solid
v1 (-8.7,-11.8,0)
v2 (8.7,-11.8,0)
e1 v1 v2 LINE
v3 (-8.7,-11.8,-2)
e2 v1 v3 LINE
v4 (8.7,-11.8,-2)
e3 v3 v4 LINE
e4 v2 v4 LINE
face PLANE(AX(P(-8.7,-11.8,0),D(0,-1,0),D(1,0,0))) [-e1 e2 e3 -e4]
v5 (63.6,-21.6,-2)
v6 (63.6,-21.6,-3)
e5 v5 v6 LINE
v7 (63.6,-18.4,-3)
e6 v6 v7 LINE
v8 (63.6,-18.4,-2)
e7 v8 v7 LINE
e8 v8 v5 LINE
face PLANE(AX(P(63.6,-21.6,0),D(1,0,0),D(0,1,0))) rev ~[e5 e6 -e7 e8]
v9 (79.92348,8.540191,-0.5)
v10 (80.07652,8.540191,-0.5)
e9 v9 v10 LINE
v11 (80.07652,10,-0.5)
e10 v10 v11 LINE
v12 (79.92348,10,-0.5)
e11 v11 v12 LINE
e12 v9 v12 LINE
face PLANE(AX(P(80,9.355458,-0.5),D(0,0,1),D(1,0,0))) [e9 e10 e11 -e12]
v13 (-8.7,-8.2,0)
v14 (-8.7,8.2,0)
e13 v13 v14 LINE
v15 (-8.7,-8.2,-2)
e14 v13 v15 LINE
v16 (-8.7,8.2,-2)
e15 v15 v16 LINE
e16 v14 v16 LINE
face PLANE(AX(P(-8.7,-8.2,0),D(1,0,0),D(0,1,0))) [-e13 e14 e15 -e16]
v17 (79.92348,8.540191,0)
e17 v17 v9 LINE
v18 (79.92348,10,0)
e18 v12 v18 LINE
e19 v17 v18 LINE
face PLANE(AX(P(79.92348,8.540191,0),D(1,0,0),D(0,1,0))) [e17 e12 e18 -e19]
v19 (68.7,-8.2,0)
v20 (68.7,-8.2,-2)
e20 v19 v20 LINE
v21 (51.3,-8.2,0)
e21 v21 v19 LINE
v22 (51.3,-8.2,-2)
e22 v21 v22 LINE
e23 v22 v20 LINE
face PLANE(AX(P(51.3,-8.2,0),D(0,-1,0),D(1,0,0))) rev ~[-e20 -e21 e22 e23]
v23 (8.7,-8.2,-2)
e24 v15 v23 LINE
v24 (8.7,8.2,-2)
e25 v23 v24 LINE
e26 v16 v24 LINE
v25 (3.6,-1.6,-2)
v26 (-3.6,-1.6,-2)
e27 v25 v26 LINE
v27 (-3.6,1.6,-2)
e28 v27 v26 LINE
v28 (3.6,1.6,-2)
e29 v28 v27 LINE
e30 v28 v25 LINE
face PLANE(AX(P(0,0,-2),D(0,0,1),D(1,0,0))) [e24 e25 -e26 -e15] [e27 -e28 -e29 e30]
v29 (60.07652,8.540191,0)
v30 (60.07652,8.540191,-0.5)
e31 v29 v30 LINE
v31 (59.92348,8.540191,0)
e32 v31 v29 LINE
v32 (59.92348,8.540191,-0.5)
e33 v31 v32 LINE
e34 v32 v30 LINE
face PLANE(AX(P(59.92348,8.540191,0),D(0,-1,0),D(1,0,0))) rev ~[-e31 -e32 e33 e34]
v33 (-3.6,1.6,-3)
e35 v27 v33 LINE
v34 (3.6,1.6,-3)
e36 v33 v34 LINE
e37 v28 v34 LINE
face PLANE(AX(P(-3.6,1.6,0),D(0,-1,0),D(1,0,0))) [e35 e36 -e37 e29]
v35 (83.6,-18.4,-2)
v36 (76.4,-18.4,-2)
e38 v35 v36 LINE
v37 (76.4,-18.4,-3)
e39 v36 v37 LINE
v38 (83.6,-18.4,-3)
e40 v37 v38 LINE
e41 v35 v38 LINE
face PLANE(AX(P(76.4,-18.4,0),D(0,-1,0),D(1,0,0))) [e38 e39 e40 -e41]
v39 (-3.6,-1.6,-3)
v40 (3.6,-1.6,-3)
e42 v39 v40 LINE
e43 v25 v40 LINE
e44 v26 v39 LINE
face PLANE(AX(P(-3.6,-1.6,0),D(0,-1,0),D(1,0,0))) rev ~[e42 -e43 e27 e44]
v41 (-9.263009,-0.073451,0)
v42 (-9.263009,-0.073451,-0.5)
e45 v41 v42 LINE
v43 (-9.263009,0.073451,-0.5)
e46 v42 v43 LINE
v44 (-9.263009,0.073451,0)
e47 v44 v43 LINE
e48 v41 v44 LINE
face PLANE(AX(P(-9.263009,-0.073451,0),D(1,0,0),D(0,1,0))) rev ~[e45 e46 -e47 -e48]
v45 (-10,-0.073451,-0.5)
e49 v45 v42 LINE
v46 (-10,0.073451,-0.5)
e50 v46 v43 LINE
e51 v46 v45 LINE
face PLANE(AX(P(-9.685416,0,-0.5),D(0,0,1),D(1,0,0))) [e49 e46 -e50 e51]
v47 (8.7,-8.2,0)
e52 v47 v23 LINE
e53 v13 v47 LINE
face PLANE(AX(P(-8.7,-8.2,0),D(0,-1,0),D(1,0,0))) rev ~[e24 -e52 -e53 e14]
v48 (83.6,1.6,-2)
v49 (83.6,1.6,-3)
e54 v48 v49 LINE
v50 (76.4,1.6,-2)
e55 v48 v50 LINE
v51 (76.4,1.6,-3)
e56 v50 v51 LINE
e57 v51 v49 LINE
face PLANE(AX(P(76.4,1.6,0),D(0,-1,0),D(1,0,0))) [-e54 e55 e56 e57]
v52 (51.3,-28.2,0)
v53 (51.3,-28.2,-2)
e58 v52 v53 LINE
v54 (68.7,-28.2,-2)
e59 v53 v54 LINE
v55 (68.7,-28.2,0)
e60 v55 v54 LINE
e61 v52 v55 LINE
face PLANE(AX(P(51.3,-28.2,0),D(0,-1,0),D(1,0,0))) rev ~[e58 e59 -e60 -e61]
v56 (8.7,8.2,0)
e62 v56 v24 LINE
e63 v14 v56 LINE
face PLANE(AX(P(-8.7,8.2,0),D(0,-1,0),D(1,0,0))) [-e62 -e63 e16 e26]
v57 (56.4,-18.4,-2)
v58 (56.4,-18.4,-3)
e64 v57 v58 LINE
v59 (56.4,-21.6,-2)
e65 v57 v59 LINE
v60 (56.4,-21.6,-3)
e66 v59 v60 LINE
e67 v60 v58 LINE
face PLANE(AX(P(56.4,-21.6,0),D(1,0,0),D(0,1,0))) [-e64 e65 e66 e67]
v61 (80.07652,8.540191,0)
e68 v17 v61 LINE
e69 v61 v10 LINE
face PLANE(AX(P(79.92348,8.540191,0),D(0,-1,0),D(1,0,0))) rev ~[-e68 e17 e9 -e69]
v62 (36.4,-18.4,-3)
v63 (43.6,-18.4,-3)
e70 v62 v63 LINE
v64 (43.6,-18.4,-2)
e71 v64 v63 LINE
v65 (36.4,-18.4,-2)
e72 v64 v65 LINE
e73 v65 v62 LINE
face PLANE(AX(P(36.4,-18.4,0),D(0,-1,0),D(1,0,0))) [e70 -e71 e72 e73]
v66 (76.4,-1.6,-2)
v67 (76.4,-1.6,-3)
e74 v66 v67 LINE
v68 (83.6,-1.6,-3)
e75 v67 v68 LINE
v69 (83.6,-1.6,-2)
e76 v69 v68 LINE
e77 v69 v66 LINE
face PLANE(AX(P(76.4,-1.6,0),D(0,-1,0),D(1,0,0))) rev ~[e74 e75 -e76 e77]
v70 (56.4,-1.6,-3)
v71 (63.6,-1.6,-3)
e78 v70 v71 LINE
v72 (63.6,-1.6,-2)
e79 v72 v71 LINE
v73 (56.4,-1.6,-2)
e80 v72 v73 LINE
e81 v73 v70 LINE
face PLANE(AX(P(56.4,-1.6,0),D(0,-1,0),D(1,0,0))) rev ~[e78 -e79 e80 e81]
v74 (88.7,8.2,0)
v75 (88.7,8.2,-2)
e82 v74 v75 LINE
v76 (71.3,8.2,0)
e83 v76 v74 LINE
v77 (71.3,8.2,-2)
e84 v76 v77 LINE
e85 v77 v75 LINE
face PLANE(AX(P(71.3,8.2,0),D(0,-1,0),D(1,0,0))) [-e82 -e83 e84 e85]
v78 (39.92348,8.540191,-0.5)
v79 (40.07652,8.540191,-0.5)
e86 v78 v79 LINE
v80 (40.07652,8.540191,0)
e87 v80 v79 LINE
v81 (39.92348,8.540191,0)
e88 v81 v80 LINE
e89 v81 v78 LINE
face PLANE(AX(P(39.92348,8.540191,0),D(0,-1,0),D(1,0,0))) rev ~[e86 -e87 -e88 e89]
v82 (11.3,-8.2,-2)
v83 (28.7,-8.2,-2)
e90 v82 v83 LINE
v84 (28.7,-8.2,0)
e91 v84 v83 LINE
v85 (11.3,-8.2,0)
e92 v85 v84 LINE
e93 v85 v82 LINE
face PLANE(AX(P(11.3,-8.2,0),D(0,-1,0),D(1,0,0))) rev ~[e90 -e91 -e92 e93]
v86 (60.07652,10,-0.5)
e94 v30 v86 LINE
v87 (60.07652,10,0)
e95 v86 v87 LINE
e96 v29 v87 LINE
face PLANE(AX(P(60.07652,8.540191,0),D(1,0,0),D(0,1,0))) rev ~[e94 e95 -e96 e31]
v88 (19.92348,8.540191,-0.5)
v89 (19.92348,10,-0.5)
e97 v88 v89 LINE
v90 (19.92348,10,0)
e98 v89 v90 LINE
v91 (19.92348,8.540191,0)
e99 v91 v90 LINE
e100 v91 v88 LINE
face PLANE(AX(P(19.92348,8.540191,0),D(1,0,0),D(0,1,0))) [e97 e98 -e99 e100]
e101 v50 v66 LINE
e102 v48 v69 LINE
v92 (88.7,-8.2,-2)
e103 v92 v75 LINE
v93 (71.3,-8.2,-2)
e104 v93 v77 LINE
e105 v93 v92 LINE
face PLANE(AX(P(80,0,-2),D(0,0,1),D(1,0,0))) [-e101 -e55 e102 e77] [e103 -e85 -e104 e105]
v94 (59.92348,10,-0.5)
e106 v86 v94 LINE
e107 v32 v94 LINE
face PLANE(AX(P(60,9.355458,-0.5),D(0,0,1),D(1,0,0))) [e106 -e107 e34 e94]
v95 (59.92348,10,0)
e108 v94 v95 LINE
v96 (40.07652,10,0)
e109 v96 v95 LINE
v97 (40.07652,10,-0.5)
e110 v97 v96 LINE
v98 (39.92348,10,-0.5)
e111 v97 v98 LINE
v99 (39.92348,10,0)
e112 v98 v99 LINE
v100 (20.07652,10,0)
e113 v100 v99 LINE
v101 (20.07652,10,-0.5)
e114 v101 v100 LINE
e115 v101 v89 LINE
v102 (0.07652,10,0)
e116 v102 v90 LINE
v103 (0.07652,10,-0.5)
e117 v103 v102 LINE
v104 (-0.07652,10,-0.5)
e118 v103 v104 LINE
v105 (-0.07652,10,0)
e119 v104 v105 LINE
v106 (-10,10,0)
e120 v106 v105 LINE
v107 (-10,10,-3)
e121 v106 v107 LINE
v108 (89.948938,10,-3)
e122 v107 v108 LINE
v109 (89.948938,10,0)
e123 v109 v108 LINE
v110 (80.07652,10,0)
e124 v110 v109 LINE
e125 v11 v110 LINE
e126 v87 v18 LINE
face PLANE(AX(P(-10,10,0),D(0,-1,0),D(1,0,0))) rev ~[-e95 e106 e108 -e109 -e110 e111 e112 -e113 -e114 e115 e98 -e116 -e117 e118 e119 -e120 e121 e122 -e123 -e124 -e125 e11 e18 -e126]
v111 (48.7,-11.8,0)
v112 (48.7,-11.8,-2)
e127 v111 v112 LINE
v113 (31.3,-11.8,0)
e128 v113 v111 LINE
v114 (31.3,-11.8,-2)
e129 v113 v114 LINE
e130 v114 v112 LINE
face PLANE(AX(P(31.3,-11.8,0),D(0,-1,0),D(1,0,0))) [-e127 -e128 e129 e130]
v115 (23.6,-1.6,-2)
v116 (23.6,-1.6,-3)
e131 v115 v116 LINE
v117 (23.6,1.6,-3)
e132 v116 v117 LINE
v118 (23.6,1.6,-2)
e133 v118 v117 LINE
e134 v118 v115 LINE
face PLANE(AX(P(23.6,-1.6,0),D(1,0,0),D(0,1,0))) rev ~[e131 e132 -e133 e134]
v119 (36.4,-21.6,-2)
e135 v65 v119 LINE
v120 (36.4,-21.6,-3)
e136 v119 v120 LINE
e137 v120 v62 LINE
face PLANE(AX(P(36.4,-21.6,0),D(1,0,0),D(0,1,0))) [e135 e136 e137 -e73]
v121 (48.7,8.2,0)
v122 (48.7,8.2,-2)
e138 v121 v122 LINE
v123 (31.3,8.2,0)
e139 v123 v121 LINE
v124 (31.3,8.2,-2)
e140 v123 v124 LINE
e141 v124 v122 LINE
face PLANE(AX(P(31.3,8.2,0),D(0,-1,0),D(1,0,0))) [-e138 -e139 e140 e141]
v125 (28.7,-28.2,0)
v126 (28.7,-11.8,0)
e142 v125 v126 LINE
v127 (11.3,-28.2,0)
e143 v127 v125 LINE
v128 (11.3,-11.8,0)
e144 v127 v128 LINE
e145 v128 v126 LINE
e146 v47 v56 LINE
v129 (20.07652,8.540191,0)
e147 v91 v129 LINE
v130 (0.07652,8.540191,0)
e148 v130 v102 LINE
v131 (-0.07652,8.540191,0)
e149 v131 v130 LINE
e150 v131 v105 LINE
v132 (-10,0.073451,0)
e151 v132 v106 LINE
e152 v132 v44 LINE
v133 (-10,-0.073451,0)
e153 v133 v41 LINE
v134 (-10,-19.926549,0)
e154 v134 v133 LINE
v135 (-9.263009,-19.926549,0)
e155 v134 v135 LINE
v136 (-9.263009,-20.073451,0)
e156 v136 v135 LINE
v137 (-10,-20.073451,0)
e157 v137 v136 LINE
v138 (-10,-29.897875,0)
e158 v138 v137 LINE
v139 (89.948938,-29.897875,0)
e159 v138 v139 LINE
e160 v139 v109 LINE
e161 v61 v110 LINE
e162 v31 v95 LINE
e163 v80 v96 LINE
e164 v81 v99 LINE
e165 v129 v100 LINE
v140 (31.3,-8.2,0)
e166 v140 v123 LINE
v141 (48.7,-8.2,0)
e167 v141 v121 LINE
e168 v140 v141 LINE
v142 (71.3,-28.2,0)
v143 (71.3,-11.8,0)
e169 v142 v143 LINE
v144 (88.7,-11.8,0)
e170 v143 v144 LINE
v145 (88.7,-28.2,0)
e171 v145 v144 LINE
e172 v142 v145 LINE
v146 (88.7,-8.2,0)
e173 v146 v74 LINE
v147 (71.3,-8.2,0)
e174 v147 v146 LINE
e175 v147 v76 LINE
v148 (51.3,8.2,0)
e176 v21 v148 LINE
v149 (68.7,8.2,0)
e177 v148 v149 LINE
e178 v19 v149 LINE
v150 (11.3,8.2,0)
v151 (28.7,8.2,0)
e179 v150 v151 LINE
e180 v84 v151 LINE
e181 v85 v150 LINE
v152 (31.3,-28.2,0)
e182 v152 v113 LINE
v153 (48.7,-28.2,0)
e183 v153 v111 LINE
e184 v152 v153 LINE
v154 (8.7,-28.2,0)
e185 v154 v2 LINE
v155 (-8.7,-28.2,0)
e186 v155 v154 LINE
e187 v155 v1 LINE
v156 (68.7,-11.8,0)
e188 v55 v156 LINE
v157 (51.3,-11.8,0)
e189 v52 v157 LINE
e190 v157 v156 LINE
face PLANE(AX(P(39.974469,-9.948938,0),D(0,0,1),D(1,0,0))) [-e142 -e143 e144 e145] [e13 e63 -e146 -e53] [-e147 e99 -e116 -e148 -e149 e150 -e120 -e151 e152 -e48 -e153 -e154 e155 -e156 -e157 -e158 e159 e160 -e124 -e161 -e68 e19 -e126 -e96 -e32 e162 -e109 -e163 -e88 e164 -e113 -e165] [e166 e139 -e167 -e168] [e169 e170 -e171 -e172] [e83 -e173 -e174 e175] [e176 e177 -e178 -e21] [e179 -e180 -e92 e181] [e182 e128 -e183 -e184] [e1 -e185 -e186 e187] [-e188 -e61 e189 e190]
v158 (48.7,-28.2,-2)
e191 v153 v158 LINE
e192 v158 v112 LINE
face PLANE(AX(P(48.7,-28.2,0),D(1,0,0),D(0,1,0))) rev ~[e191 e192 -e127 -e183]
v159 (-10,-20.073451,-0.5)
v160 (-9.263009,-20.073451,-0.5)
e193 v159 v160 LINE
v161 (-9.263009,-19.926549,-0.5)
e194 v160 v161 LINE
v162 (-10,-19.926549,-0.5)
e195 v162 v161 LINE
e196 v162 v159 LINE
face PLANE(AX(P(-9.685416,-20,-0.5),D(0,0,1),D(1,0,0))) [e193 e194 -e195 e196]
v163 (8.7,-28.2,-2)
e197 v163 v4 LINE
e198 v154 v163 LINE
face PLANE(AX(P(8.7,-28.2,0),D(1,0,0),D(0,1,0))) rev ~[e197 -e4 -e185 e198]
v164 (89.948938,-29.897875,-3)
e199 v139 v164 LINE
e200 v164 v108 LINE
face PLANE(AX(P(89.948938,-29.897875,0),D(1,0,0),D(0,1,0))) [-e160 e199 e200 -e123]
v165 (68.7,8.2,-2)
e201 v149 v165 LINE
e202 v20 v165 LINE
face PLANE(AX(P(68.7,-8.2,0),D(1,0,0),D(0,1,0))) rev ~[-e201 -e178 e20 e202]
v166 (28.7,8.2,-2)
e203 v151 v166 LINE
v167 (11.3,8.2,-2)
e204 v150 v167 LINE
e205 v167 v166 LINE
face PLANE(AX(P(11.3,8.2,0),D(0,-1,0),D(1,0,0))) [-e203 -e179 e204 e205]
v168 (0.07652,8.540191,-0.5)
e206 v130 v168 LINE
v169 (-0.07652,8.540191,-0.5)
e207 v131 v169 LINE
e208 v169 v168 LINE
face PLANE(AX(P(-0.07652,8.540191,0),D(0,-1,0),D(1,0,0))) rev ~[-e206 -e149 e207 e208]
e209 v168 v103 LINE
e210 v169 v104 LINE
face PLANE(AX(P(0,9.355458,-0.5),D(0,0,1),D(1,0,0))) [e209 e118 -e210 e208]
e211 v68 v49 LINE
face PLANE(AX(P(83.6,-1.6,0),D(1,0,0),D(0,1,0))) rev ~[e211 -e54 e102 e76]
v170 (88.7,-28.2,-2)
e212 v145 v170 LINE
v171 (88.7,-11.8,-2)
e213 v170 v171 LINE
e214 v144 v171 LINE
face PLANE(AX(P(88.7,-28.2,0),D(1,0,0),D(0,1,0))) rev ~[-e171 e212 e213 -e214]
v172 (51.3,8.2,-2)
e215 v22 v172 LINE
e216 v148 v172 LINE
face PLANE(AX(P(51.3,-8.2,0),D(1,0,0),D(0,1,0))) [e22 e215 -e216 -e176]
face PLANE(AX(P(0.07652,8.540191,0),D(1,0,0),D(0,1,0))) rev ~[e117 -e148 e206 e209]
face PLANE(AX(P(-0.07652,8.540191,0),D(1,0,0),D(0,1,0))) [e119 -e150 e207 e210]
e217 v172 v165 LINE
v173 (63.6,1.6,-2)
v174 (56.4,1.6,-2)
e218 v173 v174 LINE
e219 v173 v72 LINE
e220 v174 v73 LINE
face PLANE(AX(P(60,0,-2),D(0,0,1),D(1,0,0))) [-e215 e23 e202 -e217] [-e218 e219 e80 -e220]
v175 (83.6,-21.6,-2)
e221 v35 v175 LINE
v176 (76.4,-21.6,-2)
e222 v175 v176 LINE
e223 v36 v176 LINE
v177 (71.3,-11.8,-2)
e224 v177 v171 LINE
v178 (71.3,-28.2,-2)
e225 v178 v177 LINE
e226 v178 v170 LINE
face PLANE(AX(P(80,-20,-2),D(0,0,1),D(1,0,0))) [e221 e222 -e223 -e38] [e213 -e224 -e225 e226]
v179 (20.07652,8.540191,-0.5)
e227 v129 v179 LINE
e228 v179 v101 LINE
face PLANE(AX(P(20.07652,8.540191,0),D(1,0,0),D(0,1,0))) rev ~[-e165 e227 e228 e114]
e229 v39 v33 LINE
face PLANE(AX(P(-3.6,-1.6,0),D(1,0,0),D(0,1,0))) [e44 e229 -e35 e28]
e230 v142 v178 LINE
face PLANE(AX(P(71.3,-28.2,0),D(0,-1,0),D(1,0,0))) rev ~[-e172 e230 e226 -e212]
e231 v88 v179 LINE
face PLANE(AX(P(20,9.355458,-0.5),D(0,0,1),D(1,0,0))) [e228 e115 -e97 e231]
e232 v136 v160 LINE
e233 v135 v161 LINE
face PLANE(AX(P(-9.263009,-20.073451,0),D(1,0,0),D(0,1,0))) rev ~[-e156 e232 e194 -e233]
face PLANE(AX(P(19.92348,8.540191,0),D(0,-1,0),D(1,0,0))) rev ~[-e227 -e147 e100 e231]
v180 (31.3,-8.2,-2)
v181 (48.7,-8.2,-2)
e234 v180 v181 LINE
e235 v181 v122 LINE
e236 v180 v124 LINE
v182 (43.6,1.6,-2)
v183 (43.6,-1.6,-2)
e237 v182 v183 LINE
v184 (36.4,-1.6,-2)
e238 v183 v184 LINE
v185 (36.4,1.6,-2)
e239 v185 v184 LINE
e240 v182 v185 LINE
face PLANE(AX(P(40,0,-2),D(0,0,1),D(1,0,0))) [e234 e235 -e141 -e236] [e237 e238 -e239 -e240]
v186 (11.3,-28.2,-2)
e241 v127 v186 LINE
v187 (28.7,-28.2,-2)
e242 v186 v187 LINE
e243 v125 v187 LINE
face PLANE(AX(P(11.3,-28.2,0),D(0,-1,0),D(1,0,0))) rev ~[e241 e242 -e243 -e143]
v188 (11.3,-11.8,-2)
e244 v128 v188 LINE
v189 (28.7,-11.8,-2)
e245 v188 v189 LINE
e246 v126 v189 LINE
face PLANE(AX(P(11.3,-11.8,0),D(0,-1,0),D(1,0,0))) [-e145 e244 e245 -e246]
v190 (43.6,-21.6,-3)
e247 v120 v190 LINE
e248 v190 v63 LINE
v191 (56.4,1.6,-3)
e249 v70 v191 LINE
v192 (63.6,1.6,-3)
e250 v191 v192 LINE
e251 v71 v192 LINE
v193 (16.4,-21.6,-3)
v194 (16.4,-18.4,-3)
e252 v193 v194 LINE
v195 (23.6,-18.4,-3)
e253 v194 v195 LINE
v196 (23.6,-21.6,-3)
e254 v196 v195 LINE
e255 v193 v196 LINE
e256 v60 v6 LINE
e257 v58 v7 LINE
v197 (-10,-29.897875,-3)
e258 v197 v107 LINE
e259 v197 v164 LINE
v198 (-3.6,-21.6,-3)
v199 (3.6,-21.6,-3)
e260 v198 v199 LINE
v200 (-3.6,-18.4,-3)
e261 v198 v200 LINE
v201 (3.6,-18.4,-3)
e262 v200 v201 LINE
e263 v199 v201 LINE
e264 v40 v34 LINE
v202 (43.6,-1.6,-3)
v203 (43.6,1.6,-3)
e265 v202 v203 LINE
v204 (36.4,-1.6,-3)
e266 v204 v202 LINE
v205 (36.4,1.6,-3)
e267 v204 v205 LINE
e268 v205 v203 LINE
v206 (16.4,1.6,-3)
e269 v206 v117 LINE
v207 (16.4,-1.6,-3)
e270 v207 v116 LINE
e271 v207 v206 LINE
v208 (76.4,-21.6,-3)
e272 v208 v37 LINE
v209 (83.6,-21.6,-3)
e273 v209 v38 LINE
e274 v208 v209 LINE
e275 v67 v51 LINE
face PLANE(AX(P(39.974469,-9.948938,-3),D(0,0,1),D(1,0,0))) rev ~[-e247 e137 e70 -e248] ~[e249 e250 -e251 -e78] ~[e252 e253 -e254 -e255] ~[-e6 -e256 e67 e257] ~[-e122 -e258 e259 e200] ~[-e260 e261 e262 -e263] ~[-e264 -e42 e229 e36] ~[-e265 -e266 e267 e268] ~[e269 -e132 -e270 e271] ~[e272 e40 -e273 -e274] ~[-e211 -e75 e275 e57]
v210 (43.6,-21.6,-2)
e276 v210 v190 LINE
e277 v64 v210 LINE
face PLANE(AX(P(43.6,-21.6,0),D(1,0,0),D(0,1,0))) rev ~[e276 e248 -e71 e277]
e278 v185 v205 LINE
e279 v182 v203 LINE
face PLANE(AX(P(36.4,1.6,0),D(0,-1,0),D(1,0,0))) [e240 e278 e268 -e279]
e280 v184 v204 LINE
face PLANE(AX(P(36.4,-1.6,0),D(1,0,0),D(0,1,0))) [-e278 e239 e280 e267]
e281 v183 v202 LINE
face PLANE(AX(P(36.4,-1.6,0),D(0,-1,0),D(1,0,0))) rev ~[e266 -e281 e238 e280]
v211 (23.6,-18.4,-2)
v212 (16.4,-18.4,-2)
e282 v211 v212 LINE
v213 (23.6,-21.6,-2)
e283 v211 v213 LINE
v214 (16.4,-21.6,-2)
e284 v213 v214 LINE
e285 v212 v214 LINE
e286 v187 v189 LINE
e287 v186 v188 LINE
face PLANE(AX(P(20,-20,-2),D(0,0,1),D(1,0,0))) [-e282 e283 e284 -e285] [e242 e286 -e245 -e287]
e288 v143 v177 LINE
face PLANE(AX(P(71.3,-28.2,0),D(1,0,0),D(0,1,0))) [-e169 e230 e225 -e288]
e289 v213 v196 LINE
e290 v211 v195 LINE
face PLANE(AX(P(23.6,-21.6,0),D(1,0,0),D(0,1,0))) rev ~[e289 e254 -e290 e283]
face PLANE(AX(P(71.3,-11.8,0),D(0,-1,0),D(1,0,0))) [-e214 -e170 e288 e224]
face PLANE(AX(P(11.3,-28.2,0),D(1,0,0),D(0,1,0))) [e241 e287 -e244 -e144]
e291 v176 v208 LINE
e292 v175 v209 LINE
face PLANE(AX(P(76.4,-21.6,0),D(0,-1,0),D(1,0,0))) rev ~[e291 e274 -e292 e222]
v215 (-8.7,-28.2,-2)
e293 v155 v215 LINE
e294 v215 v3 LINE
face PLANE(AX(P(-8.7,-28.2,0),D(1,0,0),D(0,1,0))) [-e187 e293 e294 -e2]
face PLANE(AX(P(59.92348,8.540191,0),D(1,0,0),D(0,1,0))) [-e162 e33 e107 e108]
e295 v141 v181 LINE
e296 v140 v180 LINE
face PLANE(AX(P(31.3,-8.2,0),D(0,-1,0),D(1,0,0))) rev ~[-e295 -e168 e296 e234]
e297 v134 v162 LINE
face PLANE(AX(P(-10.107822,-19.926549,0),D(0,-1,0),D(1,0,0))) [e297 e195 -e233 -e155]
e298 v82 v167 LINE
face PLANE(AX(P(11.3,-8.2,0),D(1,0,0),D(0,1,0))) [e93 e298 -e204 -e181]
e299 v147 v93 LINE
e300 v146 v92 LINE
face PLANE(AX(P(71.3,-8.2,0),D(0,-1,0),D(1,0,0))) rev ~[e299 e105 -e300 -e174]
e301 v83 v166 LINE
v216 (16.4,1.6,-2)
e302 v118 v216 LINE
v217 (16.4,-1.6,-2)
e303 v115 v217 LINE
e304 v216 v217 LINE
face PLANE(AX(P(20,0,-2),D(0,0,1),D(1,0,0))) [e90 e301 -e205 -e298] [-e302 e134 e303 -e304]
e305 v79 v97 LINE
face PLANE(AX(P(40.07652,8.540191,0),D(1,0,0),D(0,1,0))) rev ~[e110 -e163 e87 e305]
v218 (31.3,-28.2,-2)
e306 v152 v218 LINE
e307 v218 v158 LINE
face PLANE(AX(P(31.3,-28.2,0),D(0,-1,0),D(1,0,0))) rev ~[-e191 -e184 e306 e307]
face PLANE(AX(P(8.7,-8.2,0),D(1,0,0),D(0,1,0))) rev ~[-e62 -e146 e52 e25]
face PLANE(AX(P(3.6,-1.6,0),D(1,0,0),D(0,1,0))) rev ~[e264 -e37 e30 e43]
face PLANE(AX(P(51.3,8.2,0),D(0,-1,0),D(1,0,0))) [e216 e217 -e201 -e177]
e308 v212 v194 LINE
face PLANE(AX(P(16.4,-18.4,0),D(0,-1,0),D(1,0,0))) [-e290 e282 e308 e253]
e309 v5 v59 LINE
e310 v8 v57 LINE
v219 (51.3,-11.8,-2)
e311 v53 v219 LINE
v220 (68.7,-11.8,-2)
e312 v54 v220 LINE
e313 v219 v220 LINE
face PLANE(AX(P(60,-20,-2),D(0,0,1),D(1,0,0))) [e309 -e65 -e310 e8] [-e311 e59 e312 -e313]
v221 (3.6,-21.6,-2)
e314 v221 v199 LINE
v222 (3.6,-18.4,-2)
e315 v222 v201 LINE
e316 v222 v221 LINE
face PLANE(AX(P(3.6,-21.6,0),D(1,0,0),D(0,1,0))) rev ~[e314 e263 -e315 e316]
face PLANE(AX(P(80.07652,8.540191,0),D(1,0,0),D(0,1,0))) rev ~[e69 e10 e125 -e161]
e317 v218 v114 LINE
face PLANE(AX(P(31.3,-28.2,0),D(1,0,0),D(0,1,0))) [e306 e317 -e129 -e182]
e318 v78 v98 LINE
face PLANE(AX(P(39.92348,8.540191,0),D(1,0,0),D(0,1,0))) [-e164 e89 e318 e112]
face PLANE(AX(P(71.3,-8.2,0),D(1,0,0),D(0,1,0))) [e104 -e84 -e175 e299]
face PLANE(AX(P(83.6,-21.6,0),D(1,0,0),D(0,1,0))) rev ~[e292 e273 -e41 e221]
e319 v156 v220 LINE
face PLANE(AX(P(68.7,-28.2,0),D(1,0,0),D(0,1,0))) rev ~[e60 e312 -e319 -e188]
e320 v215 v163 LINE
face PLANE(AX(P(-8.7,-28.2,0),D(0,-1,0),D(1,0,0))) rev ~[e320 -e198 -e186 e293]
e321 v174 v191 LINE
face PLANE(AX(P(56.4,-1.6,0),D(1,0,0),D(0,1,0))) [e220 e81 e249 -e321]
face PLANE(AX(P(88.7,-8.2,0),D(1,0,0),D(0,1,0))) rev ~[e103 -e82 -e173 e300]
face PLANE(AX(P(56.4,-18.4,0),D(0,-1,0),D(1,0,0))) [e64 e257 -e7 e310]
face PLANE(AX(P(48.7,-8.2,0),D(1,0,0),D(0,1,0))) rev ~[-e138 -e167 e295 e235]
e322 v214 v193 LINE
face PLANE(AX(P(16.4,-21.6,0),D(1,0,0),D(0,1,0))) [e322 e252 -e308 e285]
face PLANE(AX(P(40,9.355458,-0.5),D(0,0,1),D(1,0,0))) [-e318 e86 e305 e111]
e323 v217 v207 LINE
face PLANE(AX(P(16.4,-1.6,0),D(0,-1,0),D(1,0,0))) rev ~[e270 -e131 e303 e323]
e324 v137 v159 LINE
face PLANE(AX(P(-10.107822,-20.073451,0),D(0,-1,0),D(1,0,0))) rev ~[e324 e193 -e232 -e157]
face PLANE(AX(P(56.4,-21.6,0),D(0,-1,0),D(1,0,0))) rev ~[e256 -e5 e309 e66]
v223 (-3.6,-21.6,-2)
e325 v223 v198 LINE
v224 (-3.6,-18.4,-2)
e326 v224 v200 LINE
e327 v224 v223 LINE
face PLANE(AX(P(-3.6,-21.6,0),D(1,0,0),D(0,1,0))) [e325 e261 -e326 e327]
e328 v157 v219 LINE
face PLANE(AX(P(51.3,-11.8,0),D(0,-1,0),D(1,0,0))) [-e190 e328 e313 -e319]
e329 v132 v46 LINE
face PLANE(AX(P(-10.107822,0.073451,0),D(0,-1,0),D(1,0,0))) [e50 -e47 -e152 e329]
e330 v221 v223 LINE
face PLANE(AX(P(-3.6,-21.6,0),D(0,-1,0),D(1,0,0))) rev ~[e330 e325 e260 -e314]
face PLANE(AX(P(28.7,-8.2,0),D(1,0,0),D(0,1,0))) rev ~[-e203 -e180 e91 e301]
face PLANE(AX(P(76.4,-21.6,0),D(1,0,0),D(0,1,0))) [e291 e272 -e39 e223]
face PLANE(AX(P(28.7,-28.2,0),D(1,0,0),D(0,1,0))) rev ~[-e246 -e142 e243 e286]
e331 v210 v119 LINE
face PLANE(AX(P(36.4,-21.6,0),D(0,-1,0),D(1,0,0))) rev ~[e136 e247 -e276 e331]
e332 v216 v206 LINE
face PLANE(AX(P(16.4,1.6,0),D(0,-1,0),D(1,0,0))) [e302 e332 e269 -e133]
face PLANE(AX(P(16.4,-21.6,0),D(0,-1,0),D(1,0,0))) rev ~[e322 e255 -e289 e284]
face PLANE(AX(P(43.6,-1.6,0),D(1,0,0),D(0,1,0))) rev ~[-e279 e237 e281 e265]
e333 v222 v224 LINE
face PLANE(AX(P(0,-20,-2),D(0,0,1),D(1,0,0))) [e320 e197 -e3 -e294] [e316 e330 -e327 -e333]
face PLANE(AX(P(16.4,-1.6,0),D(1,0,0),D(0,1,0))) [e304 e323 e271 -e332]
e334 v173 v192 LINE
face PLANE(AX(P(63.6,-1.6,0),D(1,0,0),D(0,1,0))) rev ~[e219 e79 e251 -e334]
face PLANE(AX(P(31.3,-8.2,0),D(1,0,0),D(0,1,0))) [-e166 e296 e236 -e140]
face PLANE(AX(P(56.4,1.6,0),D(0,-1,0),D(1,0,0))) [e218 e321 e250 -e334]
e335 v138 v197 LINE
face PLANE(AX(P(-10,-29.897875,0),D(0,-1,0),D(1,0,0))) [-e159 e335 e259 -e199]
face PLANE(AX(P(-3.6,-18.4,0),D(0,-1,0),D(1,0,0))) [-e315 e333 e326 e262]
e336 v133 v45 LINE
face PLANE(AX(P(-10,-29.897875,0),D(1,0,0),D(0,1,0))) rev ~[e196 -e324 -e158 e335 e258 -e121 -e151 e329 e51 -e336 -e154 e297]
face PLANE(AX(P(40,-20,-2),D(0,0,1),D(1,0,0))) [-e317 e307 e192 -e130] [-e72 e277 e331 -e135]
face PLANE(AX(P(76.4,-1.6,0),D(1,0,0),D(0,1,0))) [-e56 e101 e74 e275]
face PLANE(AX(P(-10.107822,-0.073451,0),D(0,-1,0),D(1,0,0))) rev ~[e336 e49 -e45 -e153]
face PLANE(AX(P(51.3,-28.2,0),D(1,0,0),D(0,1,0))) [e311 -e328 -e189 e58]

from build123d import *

# Parameters (mm, degrees)
TABLE_W                      = 99.948937608
TABLE_H                      = 39.897875217
BOSS_EXTRU_1_DEPTH           = 3
PINSPACE_W                   = 7.2
PINSPACE_H                   = 3.2
ENL_V_MAT_EXTRU_1_DEPTH      = 1
ENL_V_MAT_EXTRU_1_DEPTH_BACK = 4
ALCOVE_W                     = 17.4
ALCOVE_H                     = 16.4
ENL_V_MAT_EXTRU_2_DEPTH      = 2
ESQUISSE4_W                  = 0.15303985
ESQUISSE4_H                  = 1.630533914
ESQUISSE4_W_2                = 0.844812891
ESQUISSE4_H_2                = 0.146902924
ENL_V_MAT_EXTRU_3_DEPTH      = 0.5


with BuildPart() as part:
    # table → Boss.-Extru.1 (new body)
    with BuildSketch(Plane.XY):
        with Locations((39.974468804, -9.948937609)):
            Rectangle(TABLE_W, TABLE_H)
    extrude(amount=-BOSS_EXTRU_1_DEPTH)

    # pinspace → Enlèv. mat.-Extru.1 (cut, two sides)
    with BuildSketch(Plane.XY) as enl_v_mat_extru_1_sk:
        with Locations((20, 0)):
            Rectangle(PINSPACE_W, PINSPACE_H)
        Rectangle(PINSPACE_W, PINSPACE_H)
        with Locations((40, 0)):
            Rectangle(PINSPACE_W, PINSPACE_H)
        with Locations((60, 0)):
            Rectangle(PINSPACE_W, PINSPACE_H)
        with Locations((80, 0)):
            Rectangle(PINSPACE_W, PINSPACE_H)
        with Locations((20, -20)):
            Rectangle(PINSPACE_W, PINSPACE_H)
        with Locations((40, -20)):
            Rectangle(PINSPACE_W, PINSPACE_H)
        with Locations((60, -20)):
            Rectangle(PINSPACE_W, PINSPACE_H)
        with Locations((80, -20)):
            Rectangle(PINSPACE_W, PINSPACE_H)
        with Locations((0, -20)):
            Rectangle(PINSPACE_W, PINSPACE_H)
    extrude(amount=ENL_V_MAT_EXTRU_1_DEPTH, mode=Mode.SUBTRACT)
    extrude(enl_v_mat_extru_1_sk.sketch, amount=-ENL_V_MAT_EXTRU_1_DEPTH_BACK, mode=Mode.SUBTRACT)

    # alcove → Enlèv. mat.-Extru.2 (cut)
    with BuildSketch(Plane.XY):
        with Locations((20, 0)):
            Rectangle(ALCOVE_W, ALCOVE_H)
        Rectangle(ALCOVE_W, ALCOVE_H)
        with Locations((40, 0)):
            Rectangle(ALCOVE_W, ALCOVE_H)
        with Locations((60, 0)):
            Rectangle(ALCOVE_W, ALCOVE_H)
        with Locations((80, 0)):
            Rectangle(ALCOVE_W, ALCOVE_H)
        with Locations((20, -20)):
            Rectangle(ALCOVE_W, ALCOVE_H)
        with Locations((40, -20)):
            Rectangle(ALCOVE_W, ALCOVE_H)
        with Locations((60, -20)):
            Rectangle(ALCOVE_W, ALCOVE_H)
        with Locations((80, -20)):
            Rectangle(ALCOVE_W, ALCOVE_H)
        with Locations((0, -20)):
            Rectangle(ALCOVE_W, ALCOVE_H)
    extrude(amount=-ENL_V_MAT_EXTRU_2_DEPTH, mode=Mode.SUBTRACT)

    # Esquisse4 → Enlèv. mat.-Extru.3 (cut)
    with BuildSketch(Plane.XY):
        with Locations((0, 9.355457885)):
            Rectangle(ESQUISSE4_W, ESQUISSE4_H)
        with Locations((20, 9.355457885)):
            Rectangle(ESQUISSE4_W, ESQUISSE4_H)
        with Locations((40, 9.355457885)):
            Rectangle(ESQUISSE4_W, ESQUISSE4_H)
        with Locations((60, 9.355457885)):
            Rectangle(ESQUISSE4_W, ESQUISSE4_H)
        with Locations((80, 9.355457885)):
            Rectangle(ESQUISSE4_W, ESQUISSE4_H)
        with Locations((-9.685415881, 0)):
            Rectangle(ESQUISSE4_W_2, ESQUISSE4_H_2)
        with Locations((-9.685415881, -20)):
            Rectangle(ESQUISSE4_W_2, ESQUISSE4_H_2)
    extrude(amount=-ENL_V_MAT_EXTRU_3_DEPTH, mode=Mode.SUBTRACT)


solid = part.part
